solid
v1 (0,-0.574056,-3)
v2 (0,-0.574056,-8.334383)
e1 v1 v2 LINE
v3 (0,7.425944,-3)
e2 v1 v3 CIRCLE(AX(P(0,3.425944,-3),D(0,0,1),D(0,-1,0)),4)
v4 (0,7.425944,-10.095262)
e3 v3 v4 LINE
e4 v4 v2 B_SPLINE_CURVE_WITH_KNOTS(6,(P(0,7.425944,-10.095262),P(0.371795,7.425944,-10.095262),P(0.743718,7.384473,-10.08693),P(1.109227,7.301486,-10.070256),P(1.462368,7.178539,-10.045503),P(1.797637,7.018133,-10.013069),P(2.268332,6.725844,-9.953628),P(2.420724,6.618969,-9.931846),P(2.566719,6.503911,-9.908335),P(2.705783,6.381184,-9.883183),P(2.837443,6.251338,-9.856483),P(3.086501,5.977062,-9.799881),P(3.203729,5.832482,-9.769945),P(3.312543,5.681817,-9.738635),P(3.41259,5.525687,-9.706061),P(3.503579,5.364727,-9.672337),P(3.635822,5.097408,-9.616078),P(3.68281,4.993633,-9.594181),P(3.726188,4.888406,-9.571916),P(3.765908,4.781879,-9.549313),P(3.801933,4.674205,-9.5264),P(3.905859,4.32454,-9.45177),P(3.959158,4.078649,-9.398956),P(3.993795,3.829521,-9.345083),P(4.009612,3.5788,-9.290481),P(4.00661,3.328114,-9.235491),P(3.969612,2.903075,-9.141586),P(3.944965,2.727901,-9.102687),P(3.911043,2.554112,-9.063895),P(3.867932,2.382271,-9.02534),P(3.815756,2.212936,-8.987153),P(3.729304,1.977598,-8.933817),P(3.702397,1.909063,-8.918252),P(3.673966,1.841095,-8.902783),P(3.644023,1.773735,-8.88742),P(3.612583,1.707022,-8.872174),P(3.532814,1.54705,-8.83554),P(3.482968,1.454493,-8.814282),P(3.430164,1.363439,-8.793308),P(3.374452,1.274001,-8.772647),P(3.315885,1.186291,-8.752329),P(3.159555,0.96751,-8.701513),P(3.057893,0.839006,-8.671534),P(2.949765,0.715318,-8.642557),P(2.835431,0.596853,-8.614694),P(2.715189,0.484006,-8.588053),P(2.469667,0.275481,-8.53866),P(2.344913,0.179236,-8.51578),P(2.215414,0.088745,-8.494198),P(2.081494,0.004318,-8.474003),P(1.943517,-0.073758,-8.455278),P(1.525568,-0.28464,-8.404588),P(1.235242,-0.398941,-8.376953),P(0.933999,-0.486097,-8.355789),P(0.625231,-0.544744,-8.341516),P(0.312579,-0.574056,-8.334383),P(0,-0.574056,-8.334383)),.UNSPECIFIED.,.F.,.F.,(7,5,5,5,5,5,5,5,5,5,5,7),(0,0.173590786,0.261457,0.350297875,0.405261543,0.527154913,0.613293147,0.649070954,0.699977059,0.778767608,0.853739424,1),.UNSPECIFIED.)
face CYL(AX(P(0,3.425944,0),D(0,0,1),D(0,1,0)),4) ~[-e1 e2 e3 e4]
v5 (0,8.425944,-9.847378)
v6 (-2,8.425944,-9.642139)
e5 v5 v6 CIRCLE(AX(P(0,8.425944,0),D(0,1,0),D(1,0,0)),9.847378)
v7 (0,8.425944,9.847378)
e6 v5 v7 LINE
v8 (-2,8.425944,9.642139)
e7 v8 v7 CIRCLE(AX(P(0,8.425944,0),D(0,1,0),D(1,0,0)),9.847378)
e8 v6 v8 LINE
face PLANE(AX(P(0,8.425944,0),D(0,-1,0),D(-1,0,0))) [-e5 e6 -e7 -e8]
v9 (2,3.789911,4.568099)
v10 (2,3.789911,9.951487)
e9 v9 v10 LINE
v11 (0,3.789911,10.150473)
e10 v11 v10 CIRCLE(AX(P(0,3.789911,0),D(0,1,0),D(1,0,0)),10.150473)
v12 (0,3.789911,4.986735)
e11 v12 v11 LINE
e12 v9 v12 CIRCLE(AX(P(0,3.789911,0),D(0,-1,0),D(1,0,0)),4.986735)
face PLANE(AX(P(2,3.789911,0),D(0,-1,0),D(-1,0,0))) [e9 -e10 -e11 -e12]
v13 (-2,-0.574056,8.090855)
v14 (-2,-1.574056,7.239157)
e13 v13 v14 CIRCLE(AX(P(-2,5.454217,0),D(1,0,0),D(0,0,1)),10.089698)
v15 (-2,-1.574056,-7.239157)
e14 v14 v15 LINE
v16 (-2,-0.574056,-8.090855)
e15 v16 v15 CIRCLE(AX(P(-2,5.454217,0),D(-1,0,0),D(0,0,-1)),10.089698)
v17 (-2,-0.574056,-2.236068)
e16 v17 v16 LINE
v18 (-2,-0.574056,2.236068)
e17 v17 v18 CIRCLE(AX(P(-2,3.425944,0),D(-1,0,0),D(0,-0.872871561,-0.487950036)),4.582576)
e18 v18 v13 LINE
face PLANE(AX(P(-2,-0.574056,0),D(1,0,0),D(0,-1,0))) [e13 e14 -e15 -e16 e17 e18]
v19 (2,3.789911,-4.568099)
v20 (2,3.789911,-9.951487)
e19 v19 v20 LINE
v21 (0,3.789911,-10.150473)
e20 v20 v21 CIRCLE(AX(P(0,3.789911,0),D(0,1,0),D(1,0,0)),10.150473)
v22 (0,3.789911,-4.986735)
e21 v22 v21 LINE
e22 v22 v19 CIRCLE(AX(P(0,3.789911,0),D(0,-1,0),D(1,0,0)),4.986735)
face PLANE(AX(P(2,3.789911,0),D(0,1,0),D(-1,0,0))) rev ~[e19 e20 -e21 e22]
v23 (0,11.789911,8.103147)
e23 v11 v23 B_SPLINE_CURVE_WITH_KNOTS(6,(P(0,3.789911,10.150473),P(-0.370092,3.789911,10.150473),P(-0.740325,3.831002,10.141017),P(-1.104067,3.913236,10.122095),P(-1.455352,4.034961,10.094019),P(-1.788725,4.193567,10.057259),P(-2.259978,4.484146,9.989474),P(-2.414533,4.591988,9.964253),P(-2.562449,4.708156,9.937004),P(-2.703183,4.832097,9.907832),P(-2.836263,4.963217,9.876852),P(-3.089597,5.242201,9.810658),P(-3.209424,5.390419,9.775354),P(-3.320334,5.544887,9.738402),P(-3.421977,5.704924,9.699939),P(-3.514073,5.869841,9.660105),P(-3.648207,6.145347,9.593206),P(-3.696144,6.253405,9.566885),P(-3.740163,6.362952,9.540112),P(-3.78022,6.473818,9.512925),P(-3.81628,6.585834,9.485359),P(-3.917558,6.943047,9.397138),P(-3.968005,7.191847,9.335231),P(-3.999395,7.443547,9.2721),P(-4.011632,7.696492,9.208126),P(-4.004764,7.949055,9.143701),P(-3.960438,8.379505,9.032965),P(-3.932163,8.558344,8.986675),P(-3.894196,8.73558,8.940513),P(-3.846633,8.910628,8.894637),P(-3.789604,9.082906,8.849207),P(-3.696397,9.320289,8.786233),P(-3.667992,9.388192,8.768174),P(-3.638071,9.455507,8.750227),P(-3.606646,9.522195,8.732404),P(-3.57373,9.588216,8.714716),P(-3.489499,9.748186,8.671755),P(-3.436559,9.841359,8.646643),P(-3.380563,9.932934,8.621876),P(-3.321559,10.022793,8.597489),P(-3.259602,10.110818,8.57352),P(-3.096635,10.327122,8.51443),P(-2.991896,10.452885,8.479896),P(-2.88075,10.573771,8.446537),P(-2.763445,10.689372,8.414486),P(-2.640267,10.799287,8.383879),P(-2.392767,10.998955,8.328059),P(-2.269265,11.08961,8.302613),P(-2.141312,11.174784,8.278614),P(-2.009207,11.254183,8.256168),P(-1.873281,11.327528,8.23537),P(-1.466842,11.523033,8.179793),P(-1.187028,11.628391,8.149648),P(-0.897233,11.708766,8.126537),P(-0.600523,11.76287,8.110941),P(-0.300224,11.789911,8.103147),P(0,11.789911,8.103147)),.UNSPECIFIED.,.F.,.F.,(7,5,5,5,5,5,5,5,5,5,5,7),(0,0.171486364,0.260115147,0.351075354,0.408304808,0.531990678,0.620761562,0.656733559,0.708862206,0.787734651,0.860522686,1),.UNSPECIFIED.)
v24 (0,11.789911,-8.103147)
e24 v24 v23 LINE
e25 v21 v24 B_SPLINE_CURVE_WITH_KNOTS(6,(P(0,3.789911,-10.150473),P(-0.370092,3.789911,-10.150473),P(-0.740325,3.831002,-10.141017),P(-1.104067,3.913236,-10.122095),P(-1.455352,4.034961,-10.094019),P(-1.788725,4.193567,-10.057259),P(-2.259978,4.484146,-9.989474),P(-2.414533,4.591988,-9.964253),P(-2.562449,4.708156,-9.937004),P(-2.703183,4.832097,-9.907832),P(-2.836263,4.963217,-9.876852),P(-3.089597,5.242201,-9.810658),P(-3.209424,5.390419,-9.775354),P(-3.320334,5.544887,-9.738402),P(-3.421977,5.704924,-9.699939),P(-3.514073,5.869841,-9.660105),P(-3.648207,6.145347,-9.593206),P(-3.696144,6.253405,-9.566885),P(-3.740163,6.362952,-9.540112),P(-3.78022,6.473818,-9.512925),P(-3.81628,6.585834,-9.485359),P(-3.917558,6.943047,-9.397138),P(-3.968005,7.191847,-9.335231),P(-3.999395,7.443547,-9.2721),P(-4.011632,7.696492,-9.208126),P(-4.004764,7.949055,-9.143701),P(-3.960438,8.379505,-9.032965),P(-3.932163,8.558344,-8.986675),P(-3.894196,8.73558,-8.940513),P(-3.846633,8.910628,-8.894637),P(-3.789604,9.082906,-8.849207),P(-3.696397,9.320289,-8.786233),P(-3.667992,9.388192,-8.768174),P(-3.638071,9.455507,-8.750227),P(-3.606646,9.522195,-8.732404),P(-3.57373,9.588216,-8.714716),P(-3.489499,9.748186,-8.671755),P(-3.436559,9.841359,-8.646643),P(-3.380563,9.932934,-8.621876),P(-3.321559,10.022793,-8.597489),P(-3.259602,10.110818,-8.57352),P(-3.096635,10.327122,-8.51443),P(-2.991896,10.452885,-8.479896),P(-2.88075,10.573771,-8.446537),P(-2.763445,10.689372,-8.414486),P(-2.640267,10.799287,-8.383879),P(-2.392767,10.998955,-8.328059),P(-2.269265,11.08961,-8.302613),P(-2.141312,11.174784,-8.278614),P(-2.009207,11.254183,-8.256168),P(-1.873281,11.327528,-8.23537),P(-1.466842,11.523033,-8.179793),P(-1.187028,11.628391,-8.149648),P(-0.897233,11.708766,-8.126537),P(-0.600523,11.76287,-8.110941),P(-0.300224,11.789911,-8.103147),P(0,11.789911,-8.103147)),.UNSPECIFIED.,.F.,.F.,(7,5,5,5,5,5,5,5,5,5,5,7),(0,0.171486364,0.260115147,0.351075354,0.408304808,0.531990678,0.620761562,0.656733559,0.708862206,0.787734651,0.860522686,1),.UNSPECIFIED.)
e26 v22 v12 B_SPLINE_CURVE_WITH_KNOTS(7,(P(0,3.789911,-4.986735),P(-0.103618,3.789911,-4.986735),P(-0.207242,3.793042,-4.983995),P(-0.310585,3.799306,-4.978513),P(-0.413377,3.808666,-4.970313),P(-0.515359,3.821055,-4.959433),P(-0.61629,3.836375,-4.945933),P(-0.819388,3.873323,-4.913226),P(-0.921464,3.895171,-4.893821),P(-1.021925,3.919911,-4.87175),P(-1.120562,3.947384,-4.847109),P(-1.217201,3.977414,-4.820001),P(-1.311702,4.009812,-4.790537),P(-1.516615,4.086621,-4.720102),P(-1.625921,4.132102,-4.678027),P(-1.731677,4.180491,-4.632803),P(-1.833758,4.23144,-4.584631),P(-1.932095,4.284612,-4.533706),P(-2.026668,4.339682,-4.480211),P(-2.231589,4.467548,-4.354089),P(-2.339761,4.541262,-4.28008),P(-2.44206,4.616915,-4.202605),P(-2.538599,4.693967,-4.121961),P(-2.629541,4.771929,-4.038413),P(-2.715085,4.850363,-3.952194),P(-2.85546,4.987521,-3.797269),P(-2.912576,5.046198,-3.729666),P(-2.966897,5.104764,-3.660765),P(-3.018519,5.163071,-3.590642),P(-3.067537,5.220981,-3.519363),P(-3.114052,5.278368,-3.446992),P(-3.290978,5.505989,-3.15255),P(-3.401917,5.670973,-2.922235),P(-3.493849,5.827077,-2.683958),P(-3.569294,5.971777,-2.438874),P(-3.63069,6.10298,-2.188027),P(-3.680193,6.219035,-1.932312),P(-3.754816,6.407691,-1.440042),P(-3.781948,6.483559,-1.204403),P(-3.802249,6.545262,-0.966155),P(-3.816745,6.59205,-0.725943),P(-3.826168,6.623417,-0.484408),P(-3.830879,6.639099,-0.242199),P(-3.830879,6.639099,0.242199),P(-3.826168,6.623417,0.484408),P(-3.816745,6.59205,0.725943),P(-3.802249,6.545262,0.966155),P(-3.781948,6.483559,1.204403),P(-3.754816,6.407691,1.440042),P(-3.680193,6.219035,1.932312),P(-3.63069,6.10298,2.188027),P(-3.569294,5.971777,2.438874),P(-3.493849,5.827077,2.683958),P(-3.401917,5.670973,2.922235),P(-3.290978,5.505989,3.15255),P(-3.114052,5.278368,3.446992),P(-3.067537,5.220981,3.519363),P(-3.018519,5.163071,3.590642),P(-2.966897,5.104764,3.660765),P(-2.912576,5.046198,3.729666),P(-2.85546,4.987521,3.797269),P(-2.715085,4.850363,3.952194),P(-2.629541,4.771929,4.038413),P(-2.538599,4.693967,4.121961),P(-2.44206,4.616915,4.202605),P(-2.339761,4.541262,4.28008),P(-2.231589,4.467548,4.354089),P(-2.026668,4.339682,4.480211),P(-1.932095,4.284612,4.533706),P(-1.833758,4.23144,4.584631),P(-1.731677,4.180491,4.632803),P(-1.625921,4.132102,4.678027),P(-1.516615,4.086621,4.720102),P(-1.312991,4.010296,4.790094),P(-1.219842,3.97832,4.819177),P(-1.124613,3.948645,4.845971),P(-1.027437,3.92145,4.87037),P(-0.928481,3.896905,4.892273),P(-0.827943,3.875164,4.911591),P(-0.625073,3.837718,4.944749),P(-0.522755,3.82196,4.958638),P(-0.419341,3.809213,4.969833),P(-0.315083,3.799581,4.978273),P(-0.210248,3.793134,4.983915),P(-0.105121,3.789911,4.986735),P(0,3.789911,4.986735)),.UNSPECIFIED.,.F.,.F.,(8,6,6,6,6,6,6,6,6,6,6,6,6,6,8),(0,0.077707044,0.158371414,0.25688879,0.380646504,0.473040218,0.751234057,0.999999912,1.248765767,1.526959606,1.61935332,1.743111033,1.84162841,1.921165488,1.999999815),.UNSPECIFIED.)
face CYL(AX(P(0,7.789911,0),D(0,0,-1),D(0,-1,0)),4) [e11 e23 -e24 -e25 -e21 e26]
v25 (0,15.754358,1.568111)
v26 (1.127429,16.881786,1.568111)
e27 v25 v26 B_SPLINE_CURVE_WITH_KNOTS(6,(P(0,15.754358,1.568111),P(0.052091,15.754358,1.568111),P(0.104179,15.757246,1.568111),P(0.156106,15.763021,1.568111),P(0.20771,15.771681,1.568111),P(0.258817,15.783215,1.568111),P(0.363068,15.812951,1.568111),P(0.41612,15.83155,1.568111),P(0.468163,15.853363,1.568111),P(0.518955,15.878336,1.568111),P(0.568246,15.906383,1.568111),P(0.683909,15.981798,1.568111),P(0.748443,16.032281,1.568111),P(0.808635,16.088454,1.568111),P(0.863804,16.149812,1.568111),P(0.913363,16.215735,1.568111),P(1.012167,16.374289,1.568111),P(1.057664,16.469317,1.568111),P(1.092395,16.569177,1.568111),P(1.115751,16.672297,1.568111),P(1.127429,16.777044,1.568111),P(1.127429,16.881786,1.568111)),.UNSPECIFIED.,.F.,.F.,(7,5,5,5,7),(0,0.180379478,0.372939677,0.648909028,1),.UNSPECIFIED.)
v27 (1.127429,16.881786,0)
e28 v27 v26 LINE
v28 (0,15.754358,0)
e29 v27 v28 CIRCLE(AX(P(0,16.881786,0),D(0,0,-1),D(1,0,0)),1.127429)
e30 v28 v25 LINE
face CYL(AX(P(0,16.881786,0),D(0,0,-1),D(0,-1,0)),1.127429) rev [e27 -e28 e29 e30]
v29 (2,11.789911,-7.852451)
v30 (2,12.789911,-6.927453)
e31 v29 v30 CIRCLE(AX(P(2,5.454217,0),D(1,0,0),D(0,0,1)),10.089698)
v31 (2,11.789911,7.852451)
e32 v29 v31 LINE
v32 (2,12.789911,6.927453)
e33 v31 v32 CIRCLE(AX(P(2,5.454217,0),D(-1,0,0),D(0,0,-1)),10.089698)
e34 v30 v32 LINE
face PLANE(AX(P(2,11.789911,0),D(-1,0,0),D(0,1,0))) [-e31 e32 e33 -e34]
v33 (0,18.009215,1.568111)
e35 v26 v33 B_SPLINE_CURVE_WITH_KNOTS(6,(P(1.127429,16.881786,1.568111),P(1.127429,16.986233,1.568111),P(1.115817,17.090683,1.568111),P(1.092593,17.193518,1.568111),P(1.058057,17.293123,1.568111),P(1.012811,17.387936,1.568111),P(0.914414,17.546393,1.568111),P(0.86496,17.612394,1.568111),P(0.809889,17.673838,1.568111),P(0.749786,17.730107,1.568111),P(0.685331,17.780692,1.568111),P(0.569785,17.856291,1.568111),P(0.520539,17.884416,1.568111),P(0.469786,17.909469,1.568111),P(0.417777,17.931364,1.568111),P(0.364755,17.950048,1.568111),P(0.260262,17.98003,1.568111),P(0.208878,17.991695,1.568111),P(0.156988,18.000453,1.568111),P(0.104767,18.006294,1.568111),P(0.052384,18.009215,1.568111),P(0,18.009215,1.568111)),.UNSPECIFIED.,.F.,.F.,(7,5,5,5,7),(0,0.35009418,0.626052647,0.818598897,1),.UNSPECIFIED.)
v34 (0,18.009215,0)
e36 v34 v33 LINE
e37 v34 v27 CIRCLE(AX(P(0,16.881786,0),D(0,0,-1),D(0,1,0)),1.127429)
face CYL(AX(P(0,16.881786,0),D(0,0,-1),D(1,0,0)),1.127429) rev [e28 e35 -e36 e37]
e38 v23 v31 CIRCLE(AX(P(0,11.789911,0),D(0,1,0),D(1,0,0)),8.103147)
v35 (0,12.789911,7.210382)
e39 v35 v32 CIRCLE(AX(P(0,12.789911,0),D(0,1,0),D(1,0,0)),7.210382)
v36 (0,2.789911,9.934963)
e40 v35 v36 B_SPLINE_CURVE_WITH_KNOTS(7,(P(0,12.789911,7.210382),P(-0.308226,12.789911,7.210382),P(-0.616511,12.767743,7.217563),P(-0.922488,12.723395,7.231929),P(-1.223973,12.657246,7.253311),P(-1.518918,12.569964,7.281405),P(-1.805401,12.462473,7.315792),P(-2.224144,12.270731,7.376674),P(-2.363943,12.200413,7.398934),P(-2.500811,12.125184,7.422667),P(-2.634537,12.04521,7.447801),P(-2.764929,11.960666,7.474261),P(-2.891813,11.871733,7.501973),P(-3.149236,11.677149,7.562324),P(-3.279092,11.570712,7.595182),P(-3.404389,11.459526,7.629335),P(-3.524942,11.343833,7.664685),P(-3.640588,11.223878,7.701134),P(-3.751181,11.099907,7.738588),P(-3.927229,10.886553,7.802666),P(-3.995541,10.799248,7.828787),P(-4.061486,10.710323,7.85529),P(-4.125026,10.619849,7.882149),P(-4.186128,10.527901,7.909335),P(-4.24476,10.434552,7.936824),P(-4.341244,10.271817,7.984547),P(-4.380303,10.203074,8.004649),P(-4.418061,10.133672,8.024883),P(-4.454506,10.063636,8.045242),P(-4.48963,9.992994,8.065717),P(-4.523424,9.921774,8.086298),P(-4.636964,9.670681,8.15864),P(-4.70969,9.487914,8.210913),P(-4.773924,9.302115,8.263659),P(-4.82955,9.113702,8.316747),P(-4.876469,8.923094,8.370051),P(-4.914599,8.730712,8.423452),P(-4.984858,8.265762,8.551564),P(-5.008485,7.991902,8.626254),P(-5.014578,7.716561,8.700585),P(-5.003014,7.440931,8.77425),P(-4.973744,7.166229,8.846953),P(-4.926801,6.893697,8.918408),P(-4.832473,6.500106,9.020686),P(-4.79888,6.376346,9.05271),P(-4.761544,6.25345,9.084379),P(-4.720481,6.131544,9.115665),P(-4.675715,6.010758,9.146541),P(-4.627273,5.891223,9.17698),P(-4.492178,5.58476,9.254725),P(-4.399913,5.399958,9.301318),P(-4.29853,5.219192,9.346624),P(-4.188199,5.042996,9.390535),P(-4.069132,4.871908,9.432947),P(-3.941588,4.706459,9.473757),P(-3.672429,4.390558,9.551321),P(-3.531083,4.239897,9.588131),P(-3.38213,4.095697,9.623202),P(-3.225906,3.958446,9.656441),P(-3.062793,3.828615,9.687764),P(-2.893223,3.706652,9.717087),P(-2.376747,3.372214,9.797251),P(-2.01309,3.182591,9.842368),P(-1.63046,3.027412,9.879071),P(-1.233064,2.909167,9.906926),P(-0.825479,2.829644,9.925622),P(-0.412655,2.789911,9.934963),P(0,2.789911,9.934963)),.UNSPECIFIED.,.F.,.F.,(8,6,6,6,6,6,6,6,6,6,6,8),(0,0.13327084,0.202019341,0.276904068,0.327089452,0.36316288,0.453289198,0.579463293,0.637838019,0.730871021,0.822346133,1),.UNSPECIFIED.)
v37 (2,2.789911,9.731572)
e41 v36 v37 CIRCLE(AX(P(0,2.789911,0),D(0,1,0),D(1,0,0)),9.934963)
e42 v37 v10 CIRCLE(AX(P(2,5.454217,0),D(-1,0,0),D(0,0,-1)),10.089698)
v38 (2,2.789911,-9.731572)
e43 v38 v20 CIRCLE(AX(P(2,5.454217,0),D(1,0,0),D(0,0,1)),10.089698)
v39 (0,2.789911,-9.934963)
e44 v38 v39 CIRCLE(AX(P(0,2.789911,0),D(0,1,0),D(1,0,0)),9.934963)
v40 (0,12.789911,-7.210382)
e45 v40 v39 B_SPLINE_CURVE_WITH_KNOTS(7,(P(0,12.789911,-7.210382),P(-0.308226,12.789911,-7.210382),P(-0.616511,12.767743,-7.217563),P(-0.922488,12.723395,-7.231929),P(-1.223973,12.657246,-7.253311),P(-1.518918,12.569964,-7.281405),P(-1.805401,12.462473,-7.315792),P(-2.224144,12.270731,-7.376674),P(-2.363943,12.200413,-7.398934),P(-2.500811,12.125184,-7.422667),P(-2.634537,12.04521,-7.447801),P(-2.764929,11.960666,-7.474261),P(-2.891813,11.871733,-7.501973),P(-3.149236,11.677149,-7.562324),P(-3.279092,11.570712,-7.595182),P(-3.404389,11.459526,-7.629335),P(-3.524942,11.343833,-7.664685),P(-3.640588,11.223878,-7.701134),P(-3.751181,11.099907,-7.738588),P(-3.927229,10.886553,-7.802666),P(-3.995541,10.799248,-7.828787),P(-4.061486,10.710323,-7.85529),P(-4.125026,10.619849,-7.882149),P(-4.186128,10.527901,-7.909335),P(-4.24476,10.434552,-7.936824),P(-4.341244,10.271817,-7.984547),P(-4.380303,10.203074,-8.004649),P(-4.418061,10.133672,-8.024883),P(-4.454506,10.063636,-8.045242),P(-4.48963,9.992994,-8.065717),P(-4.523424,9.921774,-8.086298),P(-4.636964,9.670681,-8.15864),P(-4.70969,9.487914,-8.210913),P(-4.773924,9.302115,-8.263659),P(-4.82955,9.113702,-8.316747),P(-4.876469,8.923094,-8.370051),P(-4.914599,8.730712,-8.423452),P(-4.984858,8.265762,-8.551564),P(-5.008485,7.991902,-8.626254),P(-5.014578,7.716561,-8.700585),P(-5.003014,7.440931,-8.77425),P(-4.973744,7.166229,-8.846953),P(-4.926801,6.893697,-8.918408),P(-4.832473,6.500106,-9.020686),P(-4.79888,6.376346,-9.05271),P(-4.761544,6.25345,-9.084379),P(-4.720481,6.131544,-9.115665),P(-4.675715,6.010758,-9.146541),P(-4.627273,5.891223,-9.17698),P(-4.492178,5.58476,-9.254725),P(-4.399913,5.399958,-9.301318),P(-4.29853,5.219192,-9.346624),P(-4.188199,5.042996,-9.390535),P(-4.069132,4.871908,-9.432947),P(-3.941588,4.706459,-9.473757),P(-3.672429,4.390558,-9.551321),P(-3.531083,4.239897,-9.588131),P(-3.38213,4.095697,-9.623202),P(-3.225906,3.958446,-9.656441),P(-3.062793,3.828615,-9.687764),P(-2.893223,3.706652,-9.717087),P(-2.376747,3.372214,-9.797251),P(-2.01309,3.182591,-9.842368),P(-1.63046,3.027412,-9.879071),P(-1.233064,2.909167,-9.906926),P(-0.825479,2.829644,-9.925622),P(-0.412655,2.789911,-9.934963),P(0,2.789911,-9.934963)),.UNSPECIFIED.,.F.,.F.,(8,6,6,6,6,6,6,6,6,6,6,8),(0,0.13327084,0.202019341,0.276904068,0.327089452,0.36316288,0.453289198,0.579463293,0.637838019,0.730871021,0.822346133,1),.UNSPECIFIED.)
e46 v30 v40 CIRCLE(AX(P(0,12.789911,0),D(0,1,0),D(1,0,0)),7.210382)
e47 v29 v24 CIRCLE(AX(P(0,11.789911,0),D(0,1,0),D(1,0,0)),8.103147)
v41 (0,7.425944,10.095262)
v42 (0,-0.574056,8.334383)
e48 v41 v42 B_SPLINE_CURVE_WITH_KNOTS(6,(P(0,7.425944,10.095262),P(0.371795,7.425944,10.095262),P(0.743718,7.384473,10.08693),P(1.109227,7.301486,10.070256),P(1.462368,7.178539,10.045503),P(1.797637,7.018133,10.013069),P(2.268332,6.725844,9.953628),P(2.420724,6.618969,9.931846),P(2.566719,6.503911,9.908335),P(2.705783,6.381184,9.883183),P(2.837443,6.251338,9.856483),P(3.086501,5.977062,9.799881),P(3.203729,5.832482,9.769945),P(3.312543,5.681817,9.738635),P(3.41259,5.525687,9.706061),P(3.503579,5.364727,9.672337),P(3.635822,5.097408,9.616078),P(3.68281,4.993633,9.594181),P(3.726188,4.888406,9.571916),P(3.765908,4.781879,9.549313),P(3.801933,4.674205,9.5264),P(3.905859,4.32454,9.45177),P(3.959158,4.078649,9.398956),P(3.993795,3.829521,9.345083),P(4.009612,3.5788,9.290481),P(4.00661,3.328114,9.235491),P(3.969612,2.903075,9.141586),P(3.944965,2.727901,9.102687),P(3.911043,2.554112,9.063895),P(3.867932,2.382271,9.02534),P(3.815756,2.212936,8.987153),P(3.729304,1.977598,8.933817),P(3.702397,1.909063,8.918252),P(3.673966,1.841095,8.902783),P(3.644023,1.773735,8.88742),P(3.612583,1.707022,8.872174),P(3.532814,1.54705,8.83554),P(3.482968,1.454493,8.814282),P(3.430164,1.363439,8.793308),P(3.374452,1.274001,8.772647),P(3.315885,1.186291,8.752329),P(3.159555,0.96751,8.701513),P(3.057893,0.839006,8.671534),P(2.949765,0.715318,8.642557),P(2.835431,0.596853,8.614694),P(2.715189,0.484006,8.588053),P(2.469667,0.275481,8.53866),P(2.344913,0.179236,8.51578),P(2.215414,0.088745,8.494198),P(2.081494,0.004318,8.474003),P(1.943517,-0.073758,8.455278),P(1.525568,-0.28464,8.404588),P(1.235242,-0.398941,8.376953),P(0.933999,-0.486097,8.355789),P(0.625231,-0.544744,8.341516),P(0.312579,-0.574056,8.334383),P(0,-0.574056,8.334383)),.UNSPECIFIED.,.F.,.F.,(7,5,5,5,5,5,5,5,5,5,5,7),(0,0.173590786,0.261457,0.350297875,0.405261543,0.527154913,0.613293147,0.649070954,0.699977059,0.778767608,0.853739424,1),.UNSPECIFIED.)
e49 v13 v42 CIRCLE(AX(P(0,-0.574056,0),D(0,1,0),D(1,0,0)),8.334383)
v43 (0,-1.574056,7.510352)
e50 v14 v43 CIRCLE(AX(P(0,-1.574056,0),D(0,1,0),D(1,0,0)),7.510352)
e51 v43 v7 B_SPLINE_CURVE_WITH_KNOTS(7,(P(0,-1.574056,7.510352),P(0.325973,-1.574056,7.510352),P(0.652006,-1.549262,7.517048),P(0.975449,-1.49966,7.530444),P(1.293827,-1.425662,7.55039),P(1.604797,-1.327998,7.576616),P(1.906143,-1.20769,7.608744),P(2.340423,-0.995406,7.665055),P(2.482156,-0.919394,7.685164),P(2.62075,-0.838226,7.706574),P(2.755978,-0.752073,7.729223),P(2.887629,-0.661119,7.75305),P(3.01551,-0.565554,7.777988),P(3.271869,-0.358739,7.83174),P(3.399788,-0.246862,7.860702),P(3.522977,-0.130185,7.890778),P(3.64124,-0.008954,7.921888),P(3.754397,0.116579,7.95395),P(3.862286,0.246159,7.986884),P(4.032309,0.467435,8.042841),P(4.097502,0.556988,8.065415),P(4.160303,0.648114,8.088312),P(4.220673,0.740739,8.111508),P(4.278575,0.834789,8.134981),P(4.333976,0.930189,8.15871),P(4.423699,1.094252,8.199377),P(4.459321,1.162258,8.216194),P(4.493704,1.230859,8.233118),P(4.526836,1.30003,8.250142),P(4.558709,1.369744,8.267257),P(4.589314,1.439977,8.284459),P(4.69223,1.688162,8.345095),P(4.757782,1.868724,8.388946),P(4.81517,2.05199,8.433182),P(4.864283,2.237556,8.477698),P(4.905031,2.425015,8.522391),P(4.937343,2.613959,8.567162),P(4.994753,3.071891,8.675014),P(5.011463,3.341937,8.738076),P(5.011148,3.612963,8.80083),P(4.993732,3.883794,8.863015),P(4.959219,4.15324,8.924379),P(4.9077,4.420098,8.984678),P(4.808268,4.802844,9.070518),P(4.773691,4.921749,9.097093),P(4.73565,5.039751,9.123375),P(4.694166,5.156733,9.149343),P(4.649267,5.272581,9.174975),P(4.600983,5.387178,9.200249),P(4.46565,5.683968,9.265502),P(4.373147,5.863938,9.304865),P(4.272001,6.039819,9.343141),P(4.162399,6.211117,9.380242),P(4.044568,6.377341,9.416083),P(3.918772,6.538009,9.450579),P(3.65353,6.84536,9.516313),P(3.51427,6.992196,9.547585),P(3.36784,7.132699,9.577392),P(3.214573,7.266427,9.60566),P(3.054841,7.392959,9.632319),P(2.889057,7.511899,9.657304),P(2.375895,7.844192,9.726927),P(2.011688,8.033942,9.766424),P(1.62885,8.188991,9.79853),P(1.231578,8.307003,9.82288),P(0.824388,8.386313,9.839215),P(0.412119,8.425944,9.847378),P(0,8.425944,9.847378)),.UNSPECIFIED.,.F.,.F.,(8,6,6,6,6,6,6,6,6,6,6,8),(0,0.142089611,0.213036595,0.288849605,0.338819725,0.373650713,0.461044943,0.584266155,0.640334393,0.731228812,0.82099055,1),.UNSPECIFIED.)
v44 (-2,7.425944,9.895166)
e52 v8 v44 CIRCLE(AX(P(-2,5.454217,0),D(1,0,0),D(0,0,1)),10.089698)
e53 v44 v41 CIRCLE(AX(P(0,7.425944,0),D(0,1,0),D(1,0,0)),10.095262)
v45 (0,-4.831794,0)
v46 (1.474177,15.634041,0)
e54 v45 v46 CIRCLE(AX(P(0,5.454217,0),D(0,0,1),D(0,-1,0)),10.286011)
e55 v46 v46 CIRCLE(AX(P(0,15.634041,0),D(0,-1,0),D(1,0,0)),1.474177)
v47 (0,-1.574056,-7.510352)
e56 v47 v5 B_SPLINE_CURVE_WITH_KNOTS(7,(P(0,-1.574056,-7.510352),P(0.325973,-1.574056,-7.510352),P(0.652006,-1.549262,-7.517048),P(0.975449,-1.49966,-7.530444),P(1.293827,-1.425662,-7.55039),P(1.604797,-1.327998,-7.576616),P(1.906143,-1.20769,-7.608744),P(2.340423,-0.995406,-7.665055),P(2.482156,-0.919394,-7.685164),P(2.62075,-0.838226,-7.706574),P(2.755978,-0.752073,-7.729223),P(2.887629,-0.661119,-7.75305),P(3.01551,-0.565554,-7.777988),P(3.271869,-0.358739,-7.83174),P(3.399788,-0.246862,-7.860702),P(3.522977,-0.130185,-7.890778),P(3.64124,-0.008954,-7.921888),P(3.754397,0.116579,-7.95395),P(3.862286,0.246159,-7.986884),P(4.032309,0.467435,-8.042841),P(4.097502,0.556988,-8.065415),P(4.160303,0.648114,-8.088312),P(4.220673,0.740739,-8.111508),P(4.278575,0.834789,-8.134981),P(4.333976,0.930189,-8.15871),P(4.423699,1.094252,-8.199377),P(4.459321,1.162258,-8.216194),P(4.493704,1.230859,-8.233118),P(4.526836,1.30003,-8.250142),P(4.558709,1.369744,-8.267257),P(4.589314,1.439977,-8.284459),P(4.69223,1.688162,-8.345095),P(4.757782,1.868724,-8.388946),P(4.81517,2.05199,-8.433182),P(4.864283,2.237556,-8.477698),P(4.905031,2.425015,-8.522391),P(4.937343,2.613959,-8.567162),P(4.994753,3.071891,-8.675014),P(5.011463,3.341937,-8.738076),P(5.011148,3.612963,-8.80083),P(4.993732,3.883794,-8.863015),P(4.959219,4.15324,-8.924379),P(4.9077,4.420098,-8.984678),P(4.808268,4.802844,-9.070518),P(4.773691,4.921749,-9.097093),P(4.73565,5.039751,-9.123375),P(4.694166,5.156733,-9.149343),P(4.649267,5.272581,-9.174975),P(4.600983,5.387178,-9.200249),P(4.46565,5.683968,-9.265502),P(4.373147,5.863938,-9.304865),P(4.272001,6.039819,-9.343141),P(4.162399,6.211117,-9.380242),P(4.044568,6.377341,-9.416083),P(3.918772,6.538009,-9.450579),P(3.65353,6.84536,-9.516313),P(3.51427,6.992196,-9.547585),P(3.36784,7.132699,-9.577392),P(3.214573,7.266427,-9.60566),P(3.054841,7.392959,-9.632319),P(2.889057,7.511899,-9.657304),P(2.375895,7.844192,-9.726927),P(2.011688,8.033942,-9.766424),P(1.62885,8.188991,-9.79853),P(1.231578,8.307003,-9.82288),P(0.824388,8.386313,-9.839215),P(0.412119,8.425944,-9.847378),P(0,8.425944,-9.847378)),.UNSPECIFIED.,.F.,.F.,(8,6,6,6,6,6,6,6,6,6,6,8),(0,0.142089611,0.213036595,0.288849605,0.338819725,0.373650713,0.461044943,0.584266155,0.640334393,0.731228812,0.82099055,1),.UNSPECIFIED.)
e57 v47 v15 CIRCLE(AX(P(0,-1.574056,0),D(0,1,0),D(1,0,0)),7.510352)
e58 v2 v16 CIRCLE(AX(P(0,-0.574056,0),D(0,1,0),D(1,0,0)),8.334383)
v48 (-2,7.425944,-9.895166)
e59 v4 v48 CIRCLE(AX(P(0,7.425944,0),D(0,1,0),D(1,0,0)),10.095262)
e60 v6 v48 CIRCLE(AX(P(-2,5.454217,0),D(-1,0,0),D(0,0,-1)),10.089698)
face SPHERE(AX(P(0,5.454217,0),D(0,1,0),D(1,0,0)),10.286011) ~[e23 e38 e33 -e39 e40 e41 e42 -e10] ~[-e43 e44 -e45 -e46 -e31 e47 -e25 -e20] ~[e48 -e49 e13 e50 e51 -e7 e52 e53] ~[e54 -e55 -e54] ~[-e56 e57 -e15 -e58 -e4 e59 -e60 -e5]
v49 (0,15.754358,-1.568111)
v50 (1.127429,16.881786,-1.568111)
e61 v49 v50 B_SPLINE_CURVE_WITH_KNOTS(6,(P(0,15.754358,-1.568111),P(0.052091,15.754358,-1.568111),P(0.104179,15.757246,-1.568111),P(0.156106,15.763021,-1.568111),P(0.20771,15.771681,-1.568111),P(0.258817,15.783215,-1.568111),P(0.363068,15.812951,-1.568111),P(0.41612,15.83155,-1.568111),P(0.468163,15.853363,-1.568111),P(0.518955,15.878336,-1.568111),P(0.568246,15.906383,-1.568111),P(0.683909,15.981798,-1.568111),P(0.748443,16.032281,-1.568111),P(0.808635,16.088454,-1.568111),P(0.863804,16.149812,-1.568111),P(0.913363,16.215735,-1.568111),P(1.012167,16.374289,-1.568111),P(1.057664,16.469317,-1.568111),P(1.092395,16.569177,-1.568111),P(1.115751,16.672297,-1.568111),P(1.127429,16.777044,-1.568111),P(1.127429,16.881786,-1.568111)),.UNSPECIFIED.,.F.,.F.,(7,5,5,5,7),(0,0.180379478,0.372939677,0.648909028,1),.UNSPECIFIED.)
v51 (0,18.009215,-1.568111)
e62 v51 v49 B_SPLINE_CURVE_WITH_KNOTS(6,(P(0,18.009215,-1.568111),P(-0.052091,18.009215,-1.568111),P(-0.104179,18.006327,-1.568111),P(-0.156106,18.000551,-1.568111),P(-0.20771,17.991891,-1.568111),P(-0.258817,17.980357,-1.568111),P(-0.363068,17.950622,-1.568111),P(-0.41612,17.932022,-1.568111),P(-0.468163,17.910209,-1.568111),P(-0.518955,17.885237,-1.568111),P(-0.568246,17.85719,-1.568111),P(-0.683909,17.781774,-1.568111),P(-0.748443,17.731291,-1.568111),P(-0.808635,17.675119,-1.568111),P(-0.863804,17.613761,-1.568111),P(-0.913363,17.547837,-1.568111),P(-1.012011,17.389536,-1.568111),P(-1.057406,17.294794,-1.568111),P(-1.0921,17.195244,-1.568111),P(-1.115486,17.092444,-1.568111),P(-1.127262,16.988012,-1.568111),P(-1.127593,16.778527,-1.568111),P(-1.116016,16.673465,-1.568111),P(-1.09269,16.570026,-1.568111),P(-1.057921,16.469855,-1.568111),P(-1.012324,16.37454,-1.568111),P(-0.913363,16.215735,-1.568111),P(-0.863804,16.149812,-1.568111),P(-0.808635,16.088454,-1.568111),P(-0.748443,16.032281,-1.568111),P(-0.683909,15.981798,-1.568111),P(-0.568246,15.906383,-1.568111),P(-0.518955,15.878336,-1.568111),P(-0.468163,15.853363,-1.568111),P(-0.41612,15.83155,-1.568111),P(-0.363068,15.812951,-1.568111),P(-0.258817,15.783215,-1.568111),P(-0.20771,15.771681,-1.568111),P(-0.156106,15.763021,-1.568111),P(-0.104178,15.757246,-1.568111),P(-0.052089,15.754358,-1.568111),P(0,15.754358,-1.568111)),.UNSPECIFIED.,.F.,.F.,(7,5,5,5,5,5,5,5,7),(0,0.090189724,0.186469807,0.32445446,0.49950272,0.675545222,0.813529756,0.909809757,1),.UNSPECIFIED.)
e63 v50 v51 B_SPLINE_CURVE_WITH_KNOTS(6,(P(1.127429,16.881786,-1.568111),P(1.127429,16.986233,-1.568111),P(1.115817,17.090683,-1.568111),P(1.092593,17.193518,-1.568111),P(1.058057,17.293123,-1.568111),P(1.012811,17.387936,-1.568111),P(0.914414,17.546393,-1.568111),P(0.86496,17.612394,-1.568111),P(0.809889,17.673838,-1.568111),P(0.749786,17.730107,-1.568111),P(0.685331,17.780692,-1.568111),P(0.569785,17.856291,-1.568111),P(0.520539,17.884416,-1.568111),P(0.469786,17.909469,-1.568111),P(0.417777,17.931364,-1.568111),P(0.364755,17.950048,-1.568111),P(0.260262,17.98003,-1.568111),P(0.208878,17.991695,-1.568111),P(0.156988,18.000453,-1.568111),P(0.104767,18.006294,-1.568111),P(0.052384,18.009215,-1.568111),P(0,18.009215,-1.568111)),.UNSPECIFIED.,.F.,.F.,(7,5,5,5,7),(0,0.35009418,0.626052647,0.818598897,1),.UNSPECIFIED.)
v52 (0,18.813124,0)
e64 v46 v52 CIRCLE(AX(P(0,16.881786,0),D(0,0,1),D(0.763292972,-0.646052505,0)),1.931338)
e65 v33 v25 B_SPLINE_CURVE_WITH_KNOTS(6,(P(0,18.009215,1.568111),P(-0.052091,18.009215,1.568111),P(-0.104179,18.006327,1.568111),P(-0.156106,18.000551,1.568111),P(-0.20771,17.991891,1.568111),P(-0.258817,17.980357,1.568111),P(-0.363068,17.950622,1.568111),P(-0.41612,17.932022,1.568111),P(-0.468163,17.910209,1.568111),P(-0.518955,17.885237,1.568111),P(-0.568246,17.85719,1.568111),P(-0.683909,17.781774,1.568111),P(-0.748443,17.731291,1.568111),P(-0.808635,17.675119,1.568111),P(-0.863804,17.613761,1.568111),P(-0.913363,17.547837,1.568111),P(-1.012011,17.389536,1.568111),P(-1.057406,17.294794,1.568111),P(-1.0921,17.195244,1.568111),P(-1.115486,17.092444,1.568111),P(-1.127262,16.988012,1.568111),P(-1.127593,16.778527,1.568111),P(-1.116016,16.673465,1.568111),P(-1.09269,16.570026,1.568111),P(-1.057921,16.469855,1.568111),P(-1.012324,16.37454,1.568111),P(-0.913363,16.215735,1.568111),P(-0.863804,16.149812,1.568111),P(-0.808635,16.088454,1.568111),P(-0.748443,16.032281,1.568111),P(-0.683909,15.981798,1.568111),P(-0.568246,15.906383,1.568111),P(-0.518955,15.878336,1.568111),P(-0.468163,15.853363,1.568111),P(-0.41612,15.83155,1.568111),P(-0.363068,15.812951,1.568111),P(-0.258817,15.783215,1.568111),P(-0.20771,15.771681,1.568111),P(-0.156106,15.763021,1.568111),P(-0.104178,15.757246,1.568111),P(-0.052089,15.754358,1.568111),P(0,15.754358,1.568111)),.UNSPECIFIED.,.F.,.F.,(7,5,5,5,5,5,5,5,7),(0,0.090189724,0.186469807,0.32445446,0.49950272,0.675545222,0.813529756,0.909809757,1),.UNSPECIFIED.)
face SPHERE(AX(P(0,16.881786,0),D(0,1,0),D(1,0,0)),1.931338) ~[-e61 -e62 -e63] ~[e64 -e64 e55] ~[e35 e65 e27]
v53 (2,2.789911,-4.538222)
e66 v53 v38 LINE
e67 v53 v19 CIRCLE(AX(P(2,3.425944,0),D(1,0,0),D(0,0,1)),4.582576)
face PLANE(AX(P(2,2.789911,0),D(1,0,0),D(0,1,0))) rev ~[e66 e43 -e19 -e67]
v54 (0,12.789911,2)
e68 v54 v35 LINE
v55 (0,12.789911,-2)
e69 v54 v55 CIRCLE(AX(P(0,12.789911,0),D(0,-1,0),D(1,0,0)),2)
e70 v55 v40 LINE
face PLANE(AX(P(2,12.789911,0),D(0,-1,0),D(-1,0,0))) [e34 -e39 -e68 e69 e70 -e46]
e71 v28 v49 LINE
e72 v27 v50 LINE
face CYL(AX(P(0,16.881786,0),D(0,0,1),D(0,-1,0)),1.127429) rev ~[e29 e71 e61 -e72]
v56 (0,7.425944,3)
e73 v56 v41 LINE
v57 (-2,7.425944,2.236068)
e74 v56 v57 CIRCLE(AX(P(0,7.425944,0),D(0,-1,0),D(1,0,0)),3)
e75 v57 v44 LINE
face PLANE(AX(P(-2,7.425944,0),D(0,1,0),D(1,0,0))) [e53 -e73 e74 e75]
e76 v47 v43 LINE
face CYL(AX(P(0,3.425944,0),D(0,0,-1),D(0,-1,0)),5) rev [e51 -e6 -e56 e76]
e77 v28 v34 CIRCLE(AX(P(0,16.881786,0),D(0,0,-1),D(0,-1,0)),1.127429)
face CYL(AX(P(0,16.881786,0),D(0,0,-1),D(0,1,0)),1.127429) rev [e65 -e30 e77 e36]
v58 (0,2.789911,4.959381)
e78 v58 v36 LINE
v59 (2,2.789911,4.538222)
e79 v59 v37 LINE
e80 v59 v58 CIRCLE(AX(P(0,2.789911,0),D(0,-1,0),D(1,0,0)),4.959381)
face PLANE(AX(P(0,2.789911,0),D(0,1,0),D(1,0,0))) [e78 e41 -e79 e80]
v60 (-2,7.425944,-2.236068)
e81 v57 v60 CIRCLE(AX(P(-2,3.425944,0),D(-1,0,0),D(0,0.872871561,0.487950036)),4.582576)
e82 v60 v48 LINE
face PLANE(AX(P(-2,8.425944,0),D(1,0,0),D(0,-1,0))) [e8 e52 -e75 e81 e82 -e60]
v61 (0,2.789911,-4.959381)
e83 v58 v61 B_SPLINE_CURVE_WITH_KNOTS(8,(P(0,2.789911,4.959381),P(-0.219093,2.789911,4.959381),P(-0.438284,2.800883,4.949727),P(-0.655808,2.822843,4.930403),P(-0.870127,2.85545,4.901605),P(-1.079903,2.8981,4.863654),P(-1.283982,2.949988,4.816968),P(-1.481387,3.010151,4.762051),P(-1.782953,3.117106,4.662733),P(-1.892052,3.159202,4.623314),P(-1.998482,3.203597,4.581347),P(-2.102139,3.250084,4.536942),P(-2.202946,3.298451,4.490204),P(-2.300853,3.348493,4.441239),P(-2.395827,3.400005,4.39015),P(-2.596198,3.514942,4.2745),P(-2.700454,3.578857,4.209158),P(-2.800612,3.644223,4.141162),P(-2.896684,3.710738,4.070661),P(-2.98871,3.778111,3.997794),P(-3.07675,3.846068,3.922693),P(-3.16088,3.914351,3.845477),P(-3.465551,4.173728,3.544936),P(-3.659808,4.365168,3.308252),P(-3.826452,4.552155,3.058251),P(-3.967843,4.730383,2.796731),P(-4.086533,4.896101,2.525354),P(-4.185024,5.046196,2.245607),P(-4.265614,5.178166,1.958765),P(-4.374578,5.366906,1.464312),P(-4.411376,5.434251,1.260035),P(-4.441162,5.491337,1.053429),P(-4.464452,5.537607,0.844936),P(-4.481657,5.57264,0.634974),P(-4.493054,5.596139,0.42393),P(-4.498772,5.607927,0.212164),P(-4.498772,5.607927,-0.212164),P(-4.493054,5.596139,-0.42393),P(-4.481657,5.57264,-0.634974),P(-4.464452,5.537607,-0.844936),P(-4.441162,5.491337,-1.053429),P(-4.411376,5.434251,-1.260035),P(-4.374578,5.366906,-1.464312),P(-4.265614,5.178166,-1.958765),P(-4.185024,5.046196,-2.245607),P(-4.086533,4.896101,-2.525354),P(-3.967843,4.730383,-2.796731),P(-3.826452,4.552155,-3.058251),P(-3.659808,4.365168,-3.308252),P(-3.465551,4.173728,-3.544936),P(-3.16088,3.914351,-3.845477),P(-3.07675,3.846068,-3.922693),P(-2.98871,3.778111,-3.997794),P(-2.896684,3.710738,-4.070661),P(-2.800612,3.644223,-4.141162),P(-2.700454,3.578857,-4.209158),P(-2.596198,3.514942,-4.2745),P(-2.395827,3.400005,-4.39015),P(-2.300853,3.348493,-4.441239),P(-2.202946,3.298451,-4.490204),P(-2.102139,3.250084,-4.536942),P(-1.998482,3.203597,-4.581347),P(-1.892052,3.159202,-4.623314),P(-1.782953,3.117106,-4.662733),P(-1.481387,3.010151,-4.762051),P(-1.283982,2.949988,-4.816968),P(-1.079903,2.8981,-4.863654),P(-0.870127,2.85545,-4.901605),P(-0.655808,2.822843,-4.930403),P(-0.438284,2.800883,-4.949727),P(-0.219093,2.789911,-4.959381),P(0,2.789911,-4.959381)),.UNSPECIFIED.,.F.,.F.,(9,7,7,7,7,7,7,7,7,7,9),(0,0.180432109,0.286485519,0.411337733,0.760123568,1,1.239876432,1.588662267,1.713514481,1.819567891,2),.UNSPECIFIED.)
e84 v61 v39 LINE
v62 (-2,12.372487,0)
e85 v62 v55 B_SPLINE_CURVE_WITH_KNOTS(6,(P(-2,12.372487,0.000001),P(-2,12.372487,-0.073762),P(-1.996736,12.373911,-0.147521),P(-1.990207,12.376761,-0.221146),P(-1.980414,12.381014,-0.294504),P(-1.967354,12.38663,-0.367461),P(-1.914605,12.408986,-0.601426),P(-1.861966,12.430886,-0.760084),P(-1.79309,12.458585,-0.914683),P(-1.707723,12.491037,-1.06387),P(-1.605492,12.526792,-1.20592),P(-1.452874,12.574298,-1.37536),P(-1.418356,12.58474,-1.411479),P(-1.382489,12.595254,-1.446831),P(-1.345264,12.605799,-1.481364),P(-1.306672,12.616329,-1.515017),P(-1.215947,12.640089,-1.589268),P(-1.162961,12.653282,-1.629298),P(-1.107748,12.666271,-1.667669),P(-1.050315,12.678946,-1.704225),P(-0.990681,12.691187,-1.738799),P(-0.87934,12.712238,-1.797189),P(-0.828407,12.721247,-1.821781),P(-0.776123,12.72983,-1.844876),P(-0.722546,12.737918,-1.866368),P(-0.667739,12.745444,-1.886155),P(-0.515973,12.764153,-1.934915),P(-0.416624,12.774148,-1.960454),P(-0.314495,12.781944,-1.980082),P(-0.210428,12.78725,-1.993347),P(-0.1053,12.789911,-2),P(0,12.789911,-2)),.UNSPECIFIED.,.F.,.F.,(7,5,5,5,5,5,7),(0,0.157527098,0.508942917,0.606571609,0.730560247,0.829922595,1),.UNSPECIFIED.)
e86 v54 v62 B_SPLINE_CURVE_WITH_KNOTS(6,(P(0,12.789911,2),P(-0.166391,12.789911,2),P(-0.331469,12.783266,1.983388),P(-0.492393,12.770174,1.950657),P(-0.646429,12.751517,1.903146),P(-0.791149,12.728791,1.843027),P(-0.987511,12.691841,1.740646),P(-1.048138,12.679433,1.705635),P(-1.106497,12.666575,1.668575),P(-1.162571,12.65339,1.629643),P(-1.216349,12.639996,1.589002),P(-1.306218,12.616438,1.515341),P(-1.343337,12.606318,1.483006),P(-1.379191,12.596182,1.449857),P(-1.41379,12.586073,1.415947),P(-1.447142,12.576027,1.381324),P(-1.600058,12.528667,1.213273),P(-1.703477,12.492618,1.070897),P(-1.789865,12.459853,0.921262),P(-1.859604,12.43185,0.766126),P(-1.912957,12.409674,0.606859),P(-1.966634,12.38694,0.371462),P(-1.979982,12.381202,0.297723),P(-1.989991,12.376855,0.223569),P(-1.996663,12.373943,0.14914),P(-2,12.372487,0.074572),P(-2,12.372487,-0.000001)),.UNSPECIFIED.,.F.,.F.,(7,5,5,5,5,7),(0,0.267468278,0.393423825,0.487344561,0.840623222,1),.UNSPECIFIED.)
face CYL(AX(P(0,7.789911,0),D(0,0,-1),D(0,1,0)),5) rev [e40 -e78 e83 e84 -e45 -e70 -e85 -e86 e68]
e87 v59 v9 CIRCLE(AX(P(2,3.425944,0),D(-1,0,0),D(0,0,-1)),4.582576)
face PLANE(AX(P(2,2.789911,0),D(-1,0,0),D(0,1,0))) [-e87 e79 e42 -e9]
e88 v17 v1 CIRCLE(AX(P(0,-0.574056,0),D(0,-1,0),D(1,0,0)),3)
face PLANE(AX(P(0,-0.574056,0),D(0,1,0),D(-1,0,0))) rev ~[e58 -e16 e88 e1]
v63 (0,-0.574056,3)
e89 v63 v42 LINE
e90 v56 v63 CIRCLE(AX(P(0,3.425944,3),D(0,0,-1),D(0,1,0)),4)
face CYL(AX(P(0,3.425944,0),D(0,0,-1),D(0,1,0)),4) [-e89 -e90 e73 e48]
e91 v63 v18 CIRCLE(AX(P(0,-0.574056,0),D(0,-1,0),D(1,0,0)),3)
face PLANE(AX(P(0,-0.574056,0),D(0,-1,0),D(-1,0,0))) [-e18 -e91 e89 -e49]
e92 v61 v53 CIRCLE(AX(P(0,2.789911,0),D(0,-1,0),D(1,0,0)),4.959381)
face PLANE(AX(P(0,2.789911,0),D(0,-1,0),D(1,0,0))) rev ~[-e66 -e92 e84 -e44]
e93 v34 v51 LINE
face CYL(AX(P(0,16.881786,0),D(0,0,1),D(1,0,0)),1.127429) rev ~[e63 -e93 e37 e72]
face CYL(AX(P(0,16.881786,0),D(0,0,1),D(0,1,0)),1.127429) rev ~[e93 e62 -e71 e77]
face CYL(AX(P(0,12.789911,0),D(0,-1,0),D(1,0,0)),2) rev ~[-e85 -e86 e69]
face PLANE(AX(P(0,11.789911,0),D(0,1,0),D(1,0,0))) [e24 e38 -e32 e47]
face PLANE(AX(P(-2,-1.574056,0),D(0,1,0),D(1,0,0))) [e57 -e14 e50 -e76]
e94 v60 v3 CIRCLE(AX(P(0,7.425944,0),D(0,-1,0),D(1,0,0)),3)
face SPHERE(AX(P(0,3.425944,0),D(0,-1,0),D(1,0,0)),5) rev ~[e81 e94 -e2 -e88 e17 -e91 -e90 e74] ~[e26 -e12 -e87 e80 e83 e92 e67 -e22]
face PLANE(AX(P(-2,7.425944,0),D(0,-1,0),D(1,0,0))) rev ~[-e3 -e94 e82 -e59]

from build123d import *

# Parameters (mm, degrees)
F2_DEPTH      = 25.4
F2_DEPTH_BACK = 25.4
F3_DEPTH      = 25.4
F3_DEPTH_BACK = 25.4


with BuildPart() as f1:
    # F0 (on Top) → F1 (revolve)
    with BuildSketch(Plane.XY):
        with BuildLine():
            ThreePointArc((1.4741766444, 15.6340406001), (1.7521250826, 17.6942663006), (0, 18.8131241852))
            Line((0, 18.8131241852), (0, 18.009214877))
            ThreePointArc((0, 18.009214877), (0.7972124014, 17.6789986882), (1.1274285902, 16.8817862868))
            ThreePointArc((1.1274285902, 16.8817862868), (0.7972124014, 16.0845738854), (0, 15.7543576967))
            Line((0, 15.7543576967), (0, 12.7899108205))
            Line((0, 12.7899108205), (2, 12.7899108205))
            Line((2, 12.7899108205), (2, 11.7899108205))
            Line((2, 11.7899108205), (0, 11.7899108205))
            Line((0, 11.7899108205), (0, 8.4259435534))
            ThreePointArc((0, 8.4259435534), (5, 3.4259435534), (0, -1.5740564466))
            Line((0, -1.5740564466), (0, -4.8317939343))
            ThreePointArc((0, -4.8317939343), (10.2594295647, 4.7152185858), (1.4741766444, 15.6340406001))
        make_face()
    revolve(axis=Axis((0, 32.3345517981, 0), (0, -1, 0)))

    # F0 (on Top) → F2 (cut, two sides)
    with BuildSketch(Plane.XY) as f2_sk:
        with BuildLine():
            Line((2, 12.7899108205), (0, 12.7899108205))
            ThreePointArc((0, 12.7899108205), (-5, 7.7899108205), (0, 2.7899108205))
            Line((0, 2.7899108205), (2, 2.7899108205))
            Line((2, 2.7899108205), (2, 3.7899108205))
            Line((2, 3.7899108205), (0, 3.7899108205))
            ThreePointArc((0, 3.7899108205), (-4, 7.7899108205), (0, 11.7899108205))
            Line((0, 11.7899108205), (2, 11.7899108205))
            Line((2, 11.7899108205), (2, 12.7899108205))
        make_face()
        with BuildLine():
            Line((-2, -1.5740564466), (0, -1.5740564466))
            ThreePointArc((0, -1.5740564466), (5, 3.4259435534), (0, 8.4259435534))
            Line((0, 8.4259435534), (-2, 8.4259435534))
            Line((-2, 8.4259435534), (-2, 7.4259435534))
            Line((-2, 7.4259435534), (0, 7.4259435534))
            ThreePointArc((0, 7.4259435534), (4, 3.4259435534), (0, -0.5740564466))
            Line((0, -0.5740564466), (-2, -0.5740564466))
            Line((-2, -0.5740564466), (-2, -1.5740564466))
        make_face()
    extrude(amount=-F2_DEPTH, mode=Mode.SUBTRACT)
    extrude(f2_sk.sketch, amount=F2_DEPTH_BACK, mode=Mode.SUBTRACT)

    # F0 (on Top) → F3 (cut, two sides)
    with BuildSketch(Plane.XY) as f3_sk:
        with BuildLine():
            Line((0, 15.7543576967), (0, 18.009214877))
            ThreePointArc((0, 18.009214877), (-1.1274285902, 16.8817862868), (0, 15.7543576967))
        make_face()
        with BuildLine():
            ThreePointArc((1.1274285902, 16.8817862868), (0.7972124014, 17.6789986882), (0, 18.009214877))
            Line((0, 18.009214877), (0, 15.7543576967))
            ThreePointArc((0, 15.7543576967), (0.7972124014, 16.0845738854), (1.1274285902, 16.8817862868))
        make_face()
    extrude(amount=-F3_DEPTH, mode=Mode.SUBTRACT)
    extrude(f3_sk.sketch, amount=F3_DEPTH_BACK, mode=Mode.SUBTRACT)


solid = f1.part
